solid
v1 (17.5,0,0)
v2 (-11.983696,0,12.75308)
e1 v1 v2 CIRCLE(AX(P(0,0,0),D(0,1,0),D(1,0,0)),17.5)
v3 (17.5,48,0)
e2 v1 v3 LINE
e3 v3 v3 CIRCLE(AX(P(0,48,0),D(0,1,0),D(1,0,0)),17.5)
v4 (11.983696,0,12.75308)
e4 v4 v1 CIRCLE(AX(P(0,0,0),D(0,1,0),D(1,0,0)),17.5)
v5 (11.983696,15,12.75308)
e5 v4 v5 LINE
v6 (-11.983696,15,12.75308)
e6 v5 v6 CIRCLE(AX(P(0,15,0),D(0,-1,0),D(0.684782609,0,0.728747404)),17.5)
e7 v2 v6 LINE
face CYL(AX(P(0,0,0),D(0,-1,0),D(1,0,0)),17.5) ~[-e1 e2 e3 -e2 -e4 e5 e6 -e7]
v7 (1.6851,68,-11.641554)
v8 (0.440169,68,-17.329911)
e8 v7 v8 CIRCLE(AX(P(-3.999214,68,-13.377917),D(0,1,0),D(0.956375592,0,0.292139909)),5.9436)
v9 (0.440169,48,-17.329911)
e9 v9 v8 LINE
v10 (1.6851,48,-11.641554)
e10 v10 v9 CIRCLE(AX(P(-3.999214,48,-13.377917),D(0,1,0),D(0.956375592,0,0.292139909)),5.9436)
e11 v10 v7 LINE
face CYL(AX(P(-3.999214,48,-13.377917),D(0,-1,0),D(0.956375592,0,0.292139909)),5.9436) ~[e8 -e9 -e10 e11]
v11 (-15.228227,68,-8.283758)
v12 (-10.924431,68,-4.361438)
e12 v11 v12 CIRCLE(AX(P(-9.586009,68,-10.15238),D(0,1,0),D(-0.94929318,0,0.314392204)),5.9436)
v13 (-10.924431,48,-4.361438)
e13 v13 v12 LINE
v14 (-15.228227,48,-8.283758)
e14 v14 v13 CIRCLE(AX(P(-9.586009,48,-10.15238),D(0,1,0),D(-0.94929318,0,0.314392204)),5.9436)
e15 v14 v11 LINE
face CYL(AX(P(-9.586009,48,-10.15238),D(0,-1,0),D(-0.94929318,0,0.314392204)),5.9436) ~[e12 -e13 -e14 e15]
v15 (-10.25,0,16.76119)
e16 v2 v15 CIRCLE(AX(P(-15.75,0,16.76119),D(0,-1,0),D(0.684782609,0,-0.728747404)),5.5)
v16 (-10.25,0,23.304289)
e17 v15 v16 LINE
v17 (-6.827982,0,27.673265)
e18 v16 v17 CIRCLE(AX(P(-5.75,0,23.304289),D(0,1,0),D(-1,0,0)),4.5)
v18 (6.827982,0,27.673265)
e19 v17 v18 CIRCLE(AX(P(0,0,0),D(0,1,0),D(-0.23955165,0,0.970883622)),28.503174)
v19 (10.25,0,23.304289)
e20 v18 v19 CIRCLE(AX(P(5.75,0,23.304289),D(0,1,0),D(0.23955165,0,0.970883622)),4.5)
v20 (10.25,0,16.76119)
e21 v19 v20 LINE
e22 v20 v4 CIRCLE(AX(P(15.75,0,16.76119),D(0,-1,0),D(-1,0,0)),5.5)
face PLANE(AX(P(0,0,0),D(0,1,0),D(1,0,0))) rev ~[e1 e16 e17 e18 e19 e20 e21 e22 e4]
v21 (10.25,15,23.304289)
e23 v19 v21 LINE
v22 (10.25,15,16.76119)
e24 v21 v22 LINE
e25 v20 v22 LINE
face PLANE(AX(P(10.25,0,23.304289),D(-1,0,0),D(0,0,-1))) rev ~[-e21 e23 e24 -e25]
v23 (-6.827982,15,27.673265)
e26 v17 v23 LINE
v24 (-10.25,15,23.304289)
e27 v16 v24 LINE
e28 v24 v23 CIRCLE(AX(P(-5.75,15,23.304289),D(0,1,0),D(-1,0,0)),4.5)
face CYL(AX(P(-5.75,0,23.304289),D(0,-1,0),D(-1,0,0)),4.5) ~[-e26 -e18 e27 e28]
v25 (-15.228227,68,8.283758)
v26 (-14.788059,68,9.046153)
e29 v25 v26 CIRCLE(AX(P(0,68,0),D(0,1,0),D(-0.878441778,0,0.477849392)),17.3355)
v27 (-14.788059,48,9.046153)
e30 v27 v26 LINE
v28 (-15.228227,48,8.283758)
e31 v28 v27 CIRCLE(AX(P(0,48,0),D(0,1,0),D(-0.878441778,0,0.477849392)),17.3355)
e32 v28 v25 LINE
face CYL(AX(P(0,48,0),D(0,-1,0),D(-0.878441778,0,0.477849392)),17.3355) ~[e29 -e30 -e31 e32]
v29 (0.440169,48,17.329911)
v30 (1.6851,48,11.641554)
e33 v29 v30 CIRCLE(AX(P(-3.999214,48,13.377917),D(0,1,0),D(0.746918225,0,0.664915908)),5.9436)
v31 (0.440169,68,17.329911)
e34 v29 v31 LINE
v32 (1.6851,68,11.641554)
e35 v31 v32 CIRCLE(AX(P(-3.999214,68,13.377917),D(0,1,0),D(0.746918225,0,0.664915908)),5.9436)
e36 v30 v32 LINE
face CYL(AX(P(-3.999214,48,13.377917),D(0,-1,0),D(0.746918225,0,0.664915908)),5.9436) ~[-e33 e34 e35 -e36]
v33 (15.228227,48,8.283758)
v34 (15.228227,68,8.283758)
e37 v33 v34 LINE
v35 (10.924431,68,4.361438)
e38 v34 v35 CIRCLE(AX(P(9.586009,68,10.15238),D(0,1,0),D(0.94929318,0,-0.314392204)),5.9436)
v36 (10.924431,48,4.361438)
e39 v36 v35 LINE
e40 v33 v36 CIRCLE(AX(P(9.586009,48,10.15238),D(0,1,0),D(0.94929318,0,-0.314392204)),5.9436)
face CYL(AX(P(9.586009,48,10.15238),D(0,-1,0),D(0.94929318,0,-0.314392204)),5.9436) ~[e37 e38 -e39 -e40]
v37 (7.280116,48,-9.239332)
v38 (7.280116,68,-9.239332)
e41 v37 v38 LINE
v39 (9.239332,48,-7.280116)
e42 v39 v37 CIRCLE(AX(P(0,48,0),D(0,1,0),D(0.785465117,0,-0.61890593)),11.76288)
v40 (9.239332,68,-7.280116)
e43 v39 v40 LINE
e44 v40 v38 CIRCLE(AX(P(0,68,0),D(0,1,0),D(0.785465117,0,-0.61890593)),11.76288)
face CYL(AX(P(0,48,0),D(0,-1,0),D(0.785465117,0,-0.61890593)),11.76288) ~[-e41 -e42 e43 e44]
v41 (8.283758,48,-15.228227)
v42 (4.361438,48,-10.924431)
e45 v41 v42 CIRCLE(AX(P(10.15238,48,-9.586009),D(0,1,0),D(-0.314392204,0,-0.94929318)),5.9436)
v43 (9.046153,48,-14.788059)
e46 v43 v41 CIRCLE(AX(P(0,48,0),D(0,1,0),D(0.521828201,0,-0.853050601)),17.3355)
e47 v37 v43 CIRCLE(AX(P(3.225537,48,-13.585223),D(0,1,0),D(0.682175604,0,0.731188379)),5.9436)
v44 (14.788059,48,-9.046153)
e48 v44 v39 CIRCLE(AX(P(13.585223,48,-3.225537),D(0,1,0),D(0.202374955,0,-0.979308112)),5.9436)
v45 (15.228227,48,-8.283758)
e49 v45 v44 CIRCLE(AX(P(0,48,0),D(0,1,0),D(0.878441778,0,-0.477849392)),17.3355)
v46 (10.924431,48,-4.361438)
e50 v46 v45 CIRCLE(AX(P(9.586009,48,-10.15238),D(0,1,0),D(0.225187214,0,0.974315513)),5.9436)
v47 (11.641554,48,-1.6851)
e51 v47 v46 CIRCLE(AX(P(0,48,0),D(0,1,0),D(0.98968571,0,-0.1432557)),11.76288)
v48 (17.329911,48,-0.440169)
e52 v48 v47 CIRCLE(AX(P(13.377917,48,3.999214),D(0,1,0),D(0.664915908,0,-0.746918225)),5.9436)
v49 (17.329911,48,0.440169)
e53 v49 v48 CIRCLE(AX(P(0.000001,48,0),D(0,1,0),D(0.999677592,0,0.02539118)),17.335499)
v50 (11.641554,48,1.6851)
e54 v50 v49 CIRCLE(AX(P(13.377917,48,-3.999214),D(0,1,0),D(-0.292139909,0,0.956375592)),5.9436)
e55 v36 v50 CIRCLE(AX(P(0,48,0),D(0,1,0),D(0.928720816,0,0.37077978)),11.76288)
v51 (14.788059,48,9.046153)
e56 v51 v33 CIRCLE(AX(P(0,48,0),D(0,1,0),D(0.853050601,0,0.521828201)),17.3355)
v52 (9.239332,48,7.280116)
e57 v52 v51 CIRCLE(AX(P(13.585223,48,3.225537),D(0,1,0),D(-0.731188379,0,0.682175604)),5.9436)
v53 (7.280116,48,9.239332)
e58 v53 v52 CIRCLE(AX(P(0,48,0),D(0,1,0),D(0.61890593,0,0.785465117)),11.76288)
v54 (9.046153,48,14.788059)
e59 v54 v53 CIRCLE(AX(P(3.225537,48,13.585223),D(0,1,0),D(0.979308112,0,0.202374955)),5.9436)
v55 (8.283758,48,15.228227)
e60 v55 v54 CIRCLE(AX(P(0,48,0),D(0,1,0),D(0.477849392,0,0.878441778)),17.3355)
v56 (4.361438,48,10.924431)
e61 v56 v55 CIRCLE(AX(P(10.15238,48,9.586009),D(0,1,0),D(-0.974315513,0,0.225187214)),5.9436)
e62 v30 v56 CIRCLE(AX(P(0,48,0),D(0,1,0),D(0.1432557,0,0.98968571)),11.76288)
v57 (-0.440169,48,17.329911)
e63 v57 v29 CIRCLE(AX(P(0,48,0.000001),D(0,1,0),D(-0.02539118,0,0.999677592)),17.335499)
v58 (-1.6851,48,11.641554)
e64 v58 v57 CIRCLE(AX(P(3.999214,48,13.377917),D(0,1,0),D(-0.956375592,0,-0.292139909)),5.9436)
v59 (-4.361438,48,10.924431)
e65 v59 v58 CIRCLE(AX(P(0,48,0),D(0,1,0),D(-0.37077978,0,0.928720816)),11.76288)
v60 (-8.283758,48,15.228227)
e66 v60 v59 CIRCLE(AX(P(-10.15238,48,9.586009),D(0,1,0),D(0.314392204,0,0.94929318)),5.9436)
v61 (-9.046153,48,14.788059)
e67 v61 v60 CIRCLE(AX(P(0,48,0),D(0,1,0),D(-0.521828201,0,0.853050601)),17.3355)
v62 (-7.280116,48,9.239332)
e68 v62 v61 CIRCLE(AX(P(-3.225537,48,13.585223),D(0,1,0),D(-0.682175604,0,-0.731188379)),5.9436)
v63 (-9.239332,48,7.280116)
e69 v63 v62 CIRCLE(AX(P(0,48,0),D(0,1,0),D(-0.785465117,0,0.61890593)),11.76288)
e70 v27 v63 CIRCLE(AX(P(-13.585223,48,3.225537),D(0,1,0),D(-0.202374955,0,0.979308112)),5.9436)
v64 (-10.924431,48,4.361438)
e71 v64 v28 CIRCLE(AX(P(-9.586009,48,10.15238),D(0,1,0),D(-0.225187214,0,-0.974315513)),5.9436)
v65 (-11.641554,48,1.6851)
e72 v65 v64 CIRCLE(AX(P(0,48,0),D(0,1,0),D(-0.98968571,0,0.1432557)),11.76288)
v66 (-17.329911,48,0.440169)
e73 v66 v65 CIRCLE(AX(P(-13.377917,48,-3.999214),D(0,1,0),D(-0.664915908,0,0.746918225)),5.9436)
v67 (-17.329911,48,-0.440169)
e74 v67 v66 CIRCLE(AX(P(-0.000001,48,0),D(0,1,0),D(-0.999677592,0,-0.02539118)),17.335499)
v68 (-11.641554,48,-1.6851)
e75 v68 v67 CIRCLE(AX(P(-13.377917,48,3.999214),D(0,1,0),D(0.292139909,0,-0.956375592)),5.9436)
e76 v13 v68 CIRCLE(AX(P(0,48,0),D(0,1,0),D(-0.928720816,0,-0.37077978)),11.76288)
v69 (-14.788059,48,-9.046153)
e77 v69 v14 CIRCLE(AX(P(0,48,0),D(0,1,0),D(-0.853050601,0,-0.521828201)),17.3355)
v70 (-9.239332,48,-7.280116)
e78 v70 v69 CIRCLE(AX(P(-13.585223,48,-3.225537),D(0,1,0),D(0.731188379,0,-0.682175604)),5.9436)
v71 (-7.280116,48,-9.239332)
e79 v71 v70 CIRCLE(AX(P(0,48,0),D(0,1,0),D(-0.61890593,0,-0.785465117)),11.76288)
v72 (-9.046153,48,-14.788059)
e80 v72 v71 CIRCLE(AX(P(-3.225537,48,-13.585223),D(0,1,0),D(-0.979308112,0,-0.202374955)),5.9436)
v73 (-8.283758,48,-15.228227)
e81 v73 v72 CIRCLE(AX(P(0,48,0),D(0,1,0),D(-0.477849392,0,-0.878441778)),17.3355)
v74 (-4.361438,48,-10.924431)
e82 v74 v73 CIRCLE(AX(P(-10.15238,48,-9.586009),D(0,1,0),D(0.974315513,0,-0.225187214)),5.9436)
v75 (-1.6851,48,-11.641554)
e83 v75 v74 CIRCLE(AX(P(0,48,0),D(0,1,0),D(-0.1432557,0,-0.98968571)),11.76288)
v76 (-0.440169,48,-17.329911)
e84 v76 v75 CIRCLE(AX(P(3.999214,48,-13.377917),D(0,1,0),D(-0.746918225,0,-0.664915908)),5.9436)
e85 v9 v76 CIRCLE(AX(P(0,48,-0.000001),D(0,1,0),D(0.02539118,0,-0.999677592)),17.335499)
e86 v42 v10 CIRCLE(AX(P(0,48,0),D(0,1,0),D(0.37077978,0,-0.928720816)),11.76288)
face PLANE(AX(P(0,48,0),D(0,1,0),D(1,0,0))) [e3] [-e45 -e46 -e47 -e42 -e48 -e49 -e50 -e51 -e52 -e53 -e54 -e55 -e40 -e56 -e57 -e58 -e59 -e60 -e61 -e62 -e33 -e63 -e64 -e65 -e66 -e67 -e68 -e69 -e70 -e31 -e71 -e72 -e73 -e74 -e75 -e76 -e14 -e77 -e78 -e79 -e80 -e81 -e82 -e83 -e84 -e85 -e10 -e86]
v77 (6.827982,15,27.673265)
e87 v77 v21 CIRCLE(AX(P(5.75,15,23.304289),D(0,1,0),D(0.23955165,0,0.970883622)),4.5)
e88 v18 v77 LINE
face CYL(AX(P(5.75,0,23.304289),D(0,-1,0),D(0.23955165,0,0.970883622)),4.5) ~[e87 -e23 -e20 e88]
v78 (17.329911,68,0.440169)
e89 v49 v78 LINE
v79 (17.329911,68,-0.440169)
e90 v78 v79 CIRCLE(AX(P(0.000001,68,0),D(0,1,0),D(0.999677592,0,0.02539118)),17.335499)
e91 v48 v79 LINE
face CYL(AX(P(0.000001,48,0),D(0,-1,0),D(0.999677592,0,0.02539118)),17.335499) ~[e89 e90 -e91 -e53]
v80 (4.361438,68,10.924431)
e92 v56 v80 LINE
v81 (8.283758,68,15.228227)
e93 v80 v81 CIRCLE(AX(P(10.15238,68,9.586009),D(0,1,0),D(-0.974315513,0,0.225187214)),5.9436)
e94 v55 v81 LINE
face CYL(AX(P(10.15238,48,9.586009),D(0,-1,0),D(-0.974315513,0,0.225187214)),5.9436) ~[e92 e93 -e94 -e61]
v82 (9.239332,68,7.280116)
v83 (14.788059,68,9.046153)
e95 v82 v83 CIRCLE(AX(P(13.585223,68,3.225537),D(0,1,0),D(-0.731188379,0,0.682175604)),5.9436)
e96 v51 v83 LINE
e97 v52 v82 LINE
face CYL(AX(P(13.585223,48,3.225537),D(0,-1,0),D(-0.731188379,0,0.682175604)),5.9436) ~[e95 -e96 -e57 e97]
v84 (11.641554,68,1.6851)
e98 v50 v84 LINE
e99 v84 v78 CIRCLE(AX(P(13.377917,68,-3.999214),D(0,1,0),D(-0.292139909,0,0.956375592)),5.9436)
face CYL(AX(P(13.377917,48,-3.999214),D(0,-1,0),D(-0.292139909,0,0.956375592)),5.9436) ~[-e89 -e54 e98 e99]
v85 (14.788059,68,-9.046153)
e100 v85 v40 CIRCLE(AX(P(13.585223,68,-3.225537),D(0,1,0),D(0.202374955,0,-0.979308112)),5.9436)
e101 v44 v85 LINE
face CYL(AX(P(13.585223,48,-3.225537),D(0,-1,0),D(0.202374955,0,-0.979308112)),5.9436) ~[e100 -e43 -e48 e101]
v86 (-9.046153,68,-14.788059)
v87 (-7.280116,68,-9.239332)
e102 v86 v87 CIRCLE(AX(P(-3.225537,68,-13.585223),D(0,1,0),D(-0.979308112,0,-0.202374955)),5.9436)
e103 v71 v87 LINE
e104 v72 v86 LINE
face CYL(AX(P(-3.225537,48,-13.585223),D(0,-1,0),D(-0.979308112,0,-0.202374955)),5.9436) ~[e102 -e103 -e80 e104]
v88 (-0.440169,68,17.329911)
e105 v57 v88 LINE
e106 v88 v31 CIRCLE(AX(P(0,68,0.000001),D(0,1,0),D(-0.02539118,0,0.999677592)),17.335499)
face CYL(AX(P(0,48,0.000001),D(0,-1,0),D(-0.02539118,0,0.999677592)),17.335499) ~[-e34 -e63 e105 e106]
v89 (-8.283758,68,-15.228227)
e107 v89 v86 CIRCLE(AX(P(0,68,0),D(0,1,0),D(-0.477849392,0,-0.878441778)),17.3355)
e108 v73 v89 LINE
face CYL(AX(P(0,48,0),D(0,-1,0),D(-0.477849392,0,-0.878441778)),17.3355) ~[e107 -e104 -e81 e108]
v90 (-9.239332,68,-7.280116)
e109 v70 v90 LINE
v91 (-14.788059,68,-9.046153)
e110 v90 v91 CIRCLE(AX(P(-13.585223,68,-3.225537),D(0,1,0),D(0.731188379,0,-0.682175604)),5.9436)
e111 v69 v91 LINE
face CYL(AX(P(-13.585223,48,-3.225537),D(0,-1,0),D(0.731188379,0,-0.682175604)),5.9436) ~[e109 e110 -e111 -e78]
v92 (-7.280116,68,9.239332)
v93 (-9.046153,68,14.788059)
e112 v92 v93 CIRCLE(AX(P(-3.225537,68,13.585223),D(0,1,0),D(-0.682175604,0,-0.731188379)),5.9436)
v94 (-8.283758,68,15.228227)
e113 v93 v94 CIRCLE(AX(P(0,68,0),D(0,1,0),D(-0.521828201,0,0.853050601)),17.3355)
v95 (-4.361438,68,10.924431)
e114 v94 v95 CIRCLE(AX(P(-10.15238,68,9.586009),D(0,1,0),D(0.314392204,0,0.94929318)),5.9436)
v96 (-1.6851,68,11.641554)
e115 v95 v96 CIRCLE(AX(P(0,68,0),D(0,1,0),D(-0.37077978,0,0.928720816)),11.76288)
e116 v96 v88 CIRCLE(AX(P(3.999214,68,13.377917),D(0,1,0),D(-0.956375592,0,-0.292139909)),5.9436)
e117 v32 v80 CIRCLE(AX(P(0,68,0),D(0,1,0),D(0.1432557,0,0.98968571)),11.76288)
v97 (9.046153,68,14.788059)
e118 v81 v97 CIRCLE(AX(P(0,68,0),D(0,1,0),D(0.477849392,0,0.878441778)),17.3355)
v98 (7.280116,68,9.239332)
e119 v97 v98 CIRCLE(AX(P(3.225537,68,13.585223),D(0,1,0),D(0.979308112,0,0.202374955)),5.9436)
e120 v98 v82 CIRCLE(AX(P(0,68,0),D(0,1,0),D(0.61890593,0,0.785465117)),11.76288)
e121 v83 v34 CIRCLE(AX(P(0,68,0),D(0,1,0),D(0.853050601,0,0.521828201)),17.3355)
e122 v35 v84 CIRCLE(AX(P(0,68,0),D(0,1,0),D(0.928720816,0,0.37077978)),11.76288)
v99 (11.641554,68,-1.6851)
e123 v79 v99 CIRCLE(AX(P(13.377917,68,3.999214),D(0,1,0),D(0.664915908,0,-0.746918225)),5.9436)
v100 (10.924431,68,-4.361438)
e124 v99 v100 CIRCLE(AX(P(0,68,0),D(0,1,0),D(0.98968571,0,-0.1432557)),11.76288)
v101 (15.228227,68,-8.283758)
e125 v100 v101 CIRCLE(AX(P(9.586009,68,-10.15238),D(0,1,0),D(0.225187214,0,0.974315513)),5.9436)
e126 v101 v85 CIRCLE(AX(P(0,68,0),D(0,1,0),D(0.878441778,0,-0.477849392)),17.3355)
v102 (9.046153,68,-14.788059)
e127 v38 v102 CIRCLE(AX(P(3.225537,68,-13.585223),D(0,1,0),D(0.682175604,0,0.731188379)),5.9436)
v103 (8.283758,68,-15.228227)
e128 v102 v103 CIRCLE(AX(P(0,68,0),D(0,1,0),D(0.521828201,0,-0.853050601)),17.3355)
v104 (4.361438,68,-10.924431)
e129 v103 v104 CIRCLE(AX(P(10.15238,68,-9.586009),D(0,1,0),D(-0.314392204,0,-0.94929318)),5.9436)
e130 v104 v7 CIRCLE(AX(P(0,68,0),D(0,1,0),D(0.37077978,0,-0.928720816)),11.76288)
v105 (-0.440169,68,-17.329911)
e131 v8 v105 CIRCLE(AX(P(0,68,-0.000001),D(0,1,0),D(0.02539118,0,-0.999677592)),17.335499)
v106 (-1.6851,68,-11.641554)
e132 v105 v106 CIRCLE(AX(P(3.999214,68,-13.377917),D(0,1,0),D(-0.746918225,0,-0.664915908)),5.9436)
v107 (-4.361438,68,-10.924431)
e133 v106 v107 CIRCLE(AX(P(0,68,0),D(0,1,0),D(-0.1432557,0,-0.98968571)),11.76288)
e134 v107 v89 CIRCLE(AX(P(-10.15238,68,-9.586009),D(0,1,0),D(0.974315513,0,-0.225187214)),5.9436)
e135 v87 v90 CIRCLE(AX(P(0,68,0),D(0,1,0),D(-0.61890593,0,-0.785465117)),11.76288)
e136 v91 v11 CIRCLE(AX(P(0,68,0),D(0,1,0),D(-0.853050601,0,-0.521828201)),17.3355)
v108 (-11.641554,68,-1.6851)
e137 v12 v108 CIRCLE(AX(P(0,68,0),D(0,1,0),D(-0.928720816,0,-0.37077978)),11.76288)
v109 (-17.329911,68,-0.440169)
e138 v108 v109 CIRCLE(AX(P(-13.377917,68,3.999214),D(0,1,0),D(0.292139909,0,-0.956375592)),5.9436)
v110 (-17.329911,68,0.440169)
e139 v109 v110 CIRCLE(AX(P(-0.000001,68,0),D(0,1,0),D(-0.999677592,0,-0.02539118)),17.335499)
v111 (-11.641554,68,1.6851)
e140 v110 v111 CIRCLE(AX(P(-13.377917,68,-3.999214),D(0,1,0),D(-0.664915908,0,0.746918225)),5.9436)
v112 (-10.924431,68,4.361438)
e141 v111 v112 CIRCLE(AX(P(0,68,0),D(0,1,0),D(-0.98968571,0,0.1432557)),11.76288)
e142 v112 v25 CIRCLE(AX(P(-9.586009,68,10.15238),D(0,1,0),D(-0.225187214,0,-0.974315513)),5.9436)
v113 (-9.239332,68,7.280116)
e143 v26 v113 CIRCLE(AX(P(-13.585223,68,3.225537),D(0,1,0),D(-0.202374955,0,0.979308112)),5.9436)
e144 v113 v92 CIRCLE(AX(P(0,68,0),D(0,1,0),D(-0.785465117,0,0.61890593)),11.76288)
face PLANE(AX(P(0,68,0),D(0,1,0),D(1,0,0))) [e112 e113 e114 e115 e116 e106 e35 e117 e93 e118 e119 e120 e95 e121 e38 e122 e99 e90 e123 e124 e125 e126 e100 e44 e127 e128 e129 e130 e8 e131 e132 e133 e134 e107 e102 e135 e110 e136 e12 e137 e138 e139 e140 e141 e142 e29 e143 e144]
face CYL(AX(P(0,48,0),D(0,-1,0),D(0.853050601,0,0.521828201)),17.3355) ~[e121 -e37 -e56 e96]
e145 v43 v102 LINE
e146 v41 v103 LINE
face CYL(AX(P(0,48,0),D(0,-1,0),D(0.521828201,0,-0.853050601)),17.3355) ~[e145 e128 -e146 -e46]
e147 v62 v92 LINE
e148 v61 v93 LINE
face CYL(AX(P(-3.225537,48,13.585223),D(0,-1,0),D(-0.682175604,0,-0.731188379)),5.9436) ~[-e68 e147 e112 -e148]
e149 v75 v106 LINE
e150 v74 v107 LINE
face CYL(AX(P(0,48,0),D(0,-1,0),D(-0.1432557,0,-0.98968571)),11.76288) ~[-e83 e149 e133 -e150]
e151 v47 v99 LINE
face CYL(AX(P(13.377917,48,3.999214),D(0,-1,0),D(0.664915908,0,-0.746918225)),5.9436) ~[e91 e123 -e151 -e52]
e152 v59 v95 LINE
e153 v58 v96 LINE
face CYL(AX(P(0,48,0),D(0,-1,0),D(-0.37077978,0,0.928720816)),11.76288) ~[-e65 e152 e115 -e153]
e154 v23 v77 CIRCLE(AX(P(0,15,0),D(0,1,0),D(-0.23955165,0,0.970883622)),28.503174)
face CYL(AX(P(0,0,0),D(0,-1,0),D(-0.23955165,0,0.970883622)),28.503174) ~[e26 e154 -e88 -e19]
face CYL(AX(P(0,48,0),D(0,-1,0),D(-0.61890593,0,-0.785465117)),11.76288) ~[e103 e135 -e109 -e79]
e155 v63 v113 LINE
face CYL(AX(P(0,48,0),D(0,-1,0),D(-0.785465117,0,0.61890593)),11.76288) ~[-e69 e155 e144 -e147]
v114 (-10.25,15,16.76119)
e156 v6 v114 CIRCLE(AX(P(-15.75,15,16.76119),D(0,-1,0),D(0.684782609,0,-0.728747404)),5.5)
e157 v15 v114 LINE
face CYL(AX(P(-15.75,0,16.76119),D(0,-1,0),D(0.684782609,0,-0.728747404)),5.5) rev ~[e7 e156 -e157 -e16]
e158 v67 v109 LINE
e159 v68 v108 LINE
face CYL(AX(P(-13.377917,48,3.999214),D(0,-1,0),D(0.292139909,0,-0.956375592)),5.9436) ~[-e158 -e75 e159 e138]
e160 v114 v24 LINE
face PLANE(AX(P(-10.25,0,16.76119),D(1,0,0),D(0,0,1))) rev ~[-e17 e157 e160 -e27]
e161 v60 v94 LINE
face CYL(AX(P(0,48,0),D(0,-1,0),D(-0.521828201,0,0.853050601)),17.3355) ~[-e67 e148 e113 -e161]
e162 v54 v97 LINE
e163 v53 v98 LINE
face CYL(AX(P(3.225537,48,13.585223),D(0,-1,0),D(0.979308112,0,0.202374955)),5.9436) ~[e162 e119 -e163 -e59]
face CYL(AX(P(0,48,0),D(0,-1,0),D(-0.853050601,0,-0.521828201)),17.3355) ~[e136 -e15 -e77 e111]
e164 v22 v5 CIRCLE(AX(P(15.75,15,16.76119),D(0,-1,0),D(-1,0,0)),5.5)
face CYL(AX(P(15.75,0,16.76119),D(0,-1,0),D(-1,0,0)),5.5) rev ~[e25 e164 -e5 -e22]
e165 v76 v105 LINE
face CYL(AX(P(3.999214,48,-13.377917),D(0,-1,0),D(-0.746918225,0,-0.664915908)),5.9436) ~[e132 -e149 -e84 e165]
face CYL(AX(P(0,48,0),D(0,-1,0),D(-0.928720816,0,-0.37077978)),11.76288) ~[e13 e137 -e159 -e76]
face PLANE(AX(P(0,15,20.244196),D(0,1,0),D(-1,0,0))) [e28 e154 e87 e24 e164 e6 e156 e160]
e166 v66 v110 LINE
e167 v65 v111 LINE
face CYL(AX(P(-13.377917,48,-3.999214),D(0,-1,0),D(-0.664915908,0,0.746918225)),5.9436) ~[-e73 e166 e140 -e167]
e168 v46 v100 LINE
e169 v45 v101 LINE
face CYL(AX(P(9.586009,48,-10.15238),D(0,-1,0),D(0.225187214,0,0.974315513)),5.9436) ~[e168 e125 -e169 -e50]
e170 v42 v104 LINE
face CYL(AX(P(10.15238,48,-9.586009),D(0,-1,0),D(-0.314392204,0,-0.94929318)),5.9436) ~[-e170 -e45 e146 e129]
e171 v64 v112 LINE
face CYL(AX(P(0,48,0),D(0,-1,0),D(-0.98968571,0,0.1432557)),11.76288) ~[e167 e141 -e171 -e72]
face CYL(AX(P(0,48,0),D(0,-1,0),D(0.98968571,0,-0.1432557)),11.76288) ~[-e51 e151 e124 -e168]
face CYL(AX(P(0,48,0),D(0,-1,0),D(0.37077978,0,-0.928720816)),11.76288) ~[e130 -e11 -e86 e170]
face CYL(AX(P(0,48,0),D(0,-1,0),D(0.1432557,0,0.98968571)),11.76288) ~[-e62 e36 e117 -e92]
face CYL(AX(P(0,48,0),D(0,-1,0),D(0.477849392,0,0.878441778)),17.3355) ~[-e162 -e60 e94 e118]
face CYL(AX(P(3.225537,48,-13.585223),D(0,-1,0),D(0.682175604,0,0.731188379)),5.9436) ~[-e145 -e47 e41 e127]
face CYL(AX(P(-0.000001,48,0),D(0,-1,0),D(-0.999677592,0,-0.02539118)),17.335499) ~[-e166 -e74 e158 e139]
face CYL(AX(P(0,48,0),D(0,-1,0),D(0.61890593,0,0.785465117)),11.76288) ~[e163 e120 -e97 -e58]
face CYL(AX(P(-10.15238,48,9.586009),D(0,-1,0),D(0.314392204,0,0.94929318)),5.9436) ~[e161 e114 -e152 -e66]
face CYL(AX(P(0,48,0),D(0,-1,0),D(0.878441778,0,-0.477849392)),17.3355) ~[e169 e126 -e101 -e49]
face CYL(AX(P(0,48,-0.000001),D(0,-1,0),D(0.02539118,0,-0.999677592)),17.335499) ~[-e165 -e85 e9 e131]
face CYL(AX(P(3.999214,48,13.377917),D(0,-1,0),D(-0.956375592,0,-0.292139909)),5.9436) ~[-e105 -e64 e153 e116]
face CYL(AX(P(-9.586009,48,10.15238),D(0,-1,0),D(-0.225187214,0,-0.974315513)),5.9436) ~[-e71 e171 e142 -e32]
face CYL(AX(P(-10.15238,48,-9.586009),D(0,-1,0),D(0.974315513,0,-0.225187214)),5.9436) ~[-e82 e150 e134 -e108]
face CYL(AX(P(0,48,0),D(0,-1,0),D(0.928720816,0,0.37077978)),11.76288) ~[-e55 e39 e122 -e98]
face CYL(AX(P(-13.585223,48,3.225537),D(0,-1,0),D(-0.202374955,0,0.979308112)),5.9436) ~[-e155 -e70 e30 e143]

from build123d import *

# Parameters (mm, degrees)
SKETCH1_R           = 17.5
BOSS_EXTRUDE1_DEPTH = 48
BOSS_EXTRUDE2_DEPTH = 15
BOSS_EXTRUDE3_DEPTH = 20


with BuildPart() as part:
    # Sketch1 → Boss-Extrude1 (new body)
    with BuildSketch(Plane(origin=(0, 0, 0), x_dir=(1, 0, 0), z_dir=(0, 1, 0))):
        Circle(SKETCH1_R)
    extrude(amount=BOSS_EXTRUDE1_DEPTH)

    # Sketch4 → Boss-Extrude2 (add)
    with BuildSketch(Plane.XZ):
        with BuildLine():
            Line((10.25, 23.304288773), (10.25, 16.761190292))
            ThreePointArc((10.25, 16.761190292), (10.701996736, 14.5776924), (11.983695652, 12.75307957))
            ThreePointArc((11.983695652, 12.75307957), (0, 17.5), (-11.983695652, 12.75307957))
            ThreePointArc((-11.983695652, 12.75307957), (-10.701996736, 14.5776924), (-10.25, 16.761190292))
            Line((-10.25, 16.761190292), (-10.25, 23.304288773))
            ThreePointArc((-10.25, 23.304288773), (-9.292662905, 26.079093189), (-6.827982425, 27.673265071))
            ThreePointArc((-6.827982425, 27.673265071), (0, 28.503174274), (6.827982425, 27.673265071))
            ThreePointArc((6.827982425, 27.673265071), (9.292662905, 26.079093189), (10.25, 23.304288773))
        make_face()
    extrude(amount=-BOSS_EXTRUDE2_DEPTH)

    # Sketch6 → Boss-Extrude3 (add)
    with BuildSketch(Plane(origin=(0, 48, 0), x_dir=(1, 0, 0), z_dir=(0, 1, 0))):
        with BuildLine():
            ThreePointArc((11.641553947, -1.685099566), (14.648632583, -1.806960077), (17.329910897, -0.440168758))
            ThreePointArc((17.329910897, -0.440168758), (17.3355, 0), (17.329910897, 0.440168758))
            ThreePointArc((17.329910897, 0.440168758), (14.648632583, 1.806960077), (11.641553947, 1.685099566))
            ThreePointArc((11.641553947, 1.685099566), (11.362069294, 3.044457292), (10.92443124, 4.361437941))
            ThreePointArc((10.92443124, 4.361437941), (13.589567986, 5.759442961), (15.228227462, 8.283758122))
            ThreePointArc((15.228227462, 8.283758122), (15.012983387, 8.66775), (14.788058703, 9.046152775))
            ThreePointArc((14.788058703, 9.046152775), (11.782607909, 8.889189622), (9.239331674, 7.280116005))
            ThreePointArc((9.239331674, 7.280116005), (8.317612002, 8.317612002), (7.280116005, 9.239331674))
            ThreePointArc((7.280116005, 9.239331674), (8.889189622, 11.782607909), (9.046152775, 14.788058703))
            ThreePointArc((9.046152775, 14.788058703), (8.66775, 15.012983387), (8.283758122, 15.228227462))
            ThreePointArc((8.283758122, 15.228227462), (5.759442961, 13.589567986), (4.361437941, 10.92443124))
            ThreePointArc((4.361437941, 10.92443124), (3.044457292, 11.362069294), (1.685099566, 11.641553947))
            ThreePointArc((1.685099566, 11.641553947), (1.806960077, 14.648632583), (0.440168758, 17.329910897))
            ThreePointArc((0.440168758, 17.329910897), (0, 17.3355), (-0.440168758, 17.329910897))
            ThreePointArc((-0.440168758, 17.329910897), (-1.806960077, 14.648632583), (-1.685099566, 11.641553947))
            ThreePointArc((-1.685099566, 11.641553947), (-3.044457292, 11.362069294), (-4.361437941, 10.92443124))
            ThreePointArc((-4.361437941, 10.92443124), (-5.759442961, 13.589567986), (-8.283758122, 15.228227462))
            ThreePointArc((-8.283758122, 15.228227462), (-8.66775, 15.012983387), (-9.046152775, 14.788058703))
            ThreePointArc((-9.046152775, 14.788058703), (-8.889189622, 11.782607909), (-7.280116005, 9.239331674))
            ThreePointArc((-7.280116005, 9.239331674), (-8.317612002, 8.317612002), (-9.239331674, 7.280116005))
            ThreePointArc((-9.239331674, 7.280116005), (-11.782607909, 8.889189622), (-14.788058703, 9.046152775))
            ThreePointArc((-14.788058703, 9.046152775), (-15.012983387, 8.66775), (-15.228227462, 8.283758122))
            ThreePointArc((-15.228227462, 8.283758122), (-13.589567986, 5.759442961), (-10.92443124, 4.361437941))
            ThreePointArc((-10.92443124, 4.361437941), (-11.362069294, 3.044457292), (-11.641553947, 1.685099566))
            ThreePointArc((-11.641553947, 1.685099566), (-14.648632583, 1.806960077), (-17.329910897, 0.440168758))
            ThreePointArc((-17.329910897, 0.440168758), (-17.3355, 0), (-17.329910897, -0.440168758))
            ThreePointArc((-17.329910897, -0.440168758), (-14.648632583, -1.806960077), (-11.641553947, -1.685099566))
            ThreePointArc((-11.641553947, -1.685099566), (-11.362069294, -3.044457292), (-10.92443124, -4.361437941))
            ThreePointArc((-10.92443124, -4.361437941), (-13.589567986, -5.759442961), (-15.228227462, -8.283758122))
            ThreePointArc((-15.228227462, -8.283758122), (-15.012983387, -8.66775), (-14.788058703, -9.046152775))
            ThreePointArc((-14.788058703, -9.046152775), (-11.782607909, -8.889189622), (-9.239331674, -7.280116005))
            ThreePointArc((-9.239331674, -7.280116005), (-8.317612002, -8.317612002), (-7.280116005, -9.239331674))
            ThreePointArc((-7.280116005, -9.239331674), (-8.889189622, -11.782607909), (-9.046152775, -14.788058703))
            ThreePointArc((-9.046152775, -14.788058703), (-8.66775, -15.012983387), (-8.283758122, -15.228227462))
            ThreePointArc((-8.283758122, -15.228227462), (-5.759442961, -13.589567986), (-4.361437941, -10.92443124))
            ThreePointArc((-4.361437941, -10.92443124), (-3.044457292, -11.362069294), (-1.685099566, -11.641553947))
            ThreePointArc((-1.685099566, -11.641553947), (-1.806960077, -14.648632583), (-0.440168758, -17.329910897))
            ThreePointArc((-0.440168758, -17.329910897), (0, -17.3355), (0.440168758, -17.329910897))
            ThreePointArc((0.440168758, -17.329910897), (1.806960077, -14.648632583), (1.685099566, -11.641553947))
            ThreePointArc((1.685099566, -11.641553947), (3.044457292, -11.362069294), (4.361437941, -10.92443124))
            ThreePointArc((4.361437941, -10.92443124), (5.759442961, -13.589567986), (8.283758122, -15.228227462))
            ThreePointArc((8.283758122, -15.228227462), (8.66775, -15.012983387), (9.046152775, -14.788058703))
            ThreePointArc((9.046152775, -14.788058703), (8.889189622, -11.782607909), (7.280116005, -9.239331674))
            ThreePointArc((7.280116005, -9.239331674), (8.317612002, -8.317612002), (9.239331674, -7.280116005))
            ThreePointArc((9.239331674, -7.280116005), (11.782607909, -8.889189622), (14.788058703, -9.046152775))
            ThreePointArc((14.788058703, -9.046152775), (15.012983387, -8.66775), (15.228227462, -8.283758122))
            ThreePointArc((15.228227462, -8.283758122), (13.589567986, -5.759442961), (10.92443124, -4.361437941))
            ThreePointArc((10.92443124, -4.361437941), (11.362069294, -3.044457292), (11.641553947, -1.685099566))
        make_face()
    extrude(amount=BOSS_EXTRUDE3_DEPTH)


solid = part.part
